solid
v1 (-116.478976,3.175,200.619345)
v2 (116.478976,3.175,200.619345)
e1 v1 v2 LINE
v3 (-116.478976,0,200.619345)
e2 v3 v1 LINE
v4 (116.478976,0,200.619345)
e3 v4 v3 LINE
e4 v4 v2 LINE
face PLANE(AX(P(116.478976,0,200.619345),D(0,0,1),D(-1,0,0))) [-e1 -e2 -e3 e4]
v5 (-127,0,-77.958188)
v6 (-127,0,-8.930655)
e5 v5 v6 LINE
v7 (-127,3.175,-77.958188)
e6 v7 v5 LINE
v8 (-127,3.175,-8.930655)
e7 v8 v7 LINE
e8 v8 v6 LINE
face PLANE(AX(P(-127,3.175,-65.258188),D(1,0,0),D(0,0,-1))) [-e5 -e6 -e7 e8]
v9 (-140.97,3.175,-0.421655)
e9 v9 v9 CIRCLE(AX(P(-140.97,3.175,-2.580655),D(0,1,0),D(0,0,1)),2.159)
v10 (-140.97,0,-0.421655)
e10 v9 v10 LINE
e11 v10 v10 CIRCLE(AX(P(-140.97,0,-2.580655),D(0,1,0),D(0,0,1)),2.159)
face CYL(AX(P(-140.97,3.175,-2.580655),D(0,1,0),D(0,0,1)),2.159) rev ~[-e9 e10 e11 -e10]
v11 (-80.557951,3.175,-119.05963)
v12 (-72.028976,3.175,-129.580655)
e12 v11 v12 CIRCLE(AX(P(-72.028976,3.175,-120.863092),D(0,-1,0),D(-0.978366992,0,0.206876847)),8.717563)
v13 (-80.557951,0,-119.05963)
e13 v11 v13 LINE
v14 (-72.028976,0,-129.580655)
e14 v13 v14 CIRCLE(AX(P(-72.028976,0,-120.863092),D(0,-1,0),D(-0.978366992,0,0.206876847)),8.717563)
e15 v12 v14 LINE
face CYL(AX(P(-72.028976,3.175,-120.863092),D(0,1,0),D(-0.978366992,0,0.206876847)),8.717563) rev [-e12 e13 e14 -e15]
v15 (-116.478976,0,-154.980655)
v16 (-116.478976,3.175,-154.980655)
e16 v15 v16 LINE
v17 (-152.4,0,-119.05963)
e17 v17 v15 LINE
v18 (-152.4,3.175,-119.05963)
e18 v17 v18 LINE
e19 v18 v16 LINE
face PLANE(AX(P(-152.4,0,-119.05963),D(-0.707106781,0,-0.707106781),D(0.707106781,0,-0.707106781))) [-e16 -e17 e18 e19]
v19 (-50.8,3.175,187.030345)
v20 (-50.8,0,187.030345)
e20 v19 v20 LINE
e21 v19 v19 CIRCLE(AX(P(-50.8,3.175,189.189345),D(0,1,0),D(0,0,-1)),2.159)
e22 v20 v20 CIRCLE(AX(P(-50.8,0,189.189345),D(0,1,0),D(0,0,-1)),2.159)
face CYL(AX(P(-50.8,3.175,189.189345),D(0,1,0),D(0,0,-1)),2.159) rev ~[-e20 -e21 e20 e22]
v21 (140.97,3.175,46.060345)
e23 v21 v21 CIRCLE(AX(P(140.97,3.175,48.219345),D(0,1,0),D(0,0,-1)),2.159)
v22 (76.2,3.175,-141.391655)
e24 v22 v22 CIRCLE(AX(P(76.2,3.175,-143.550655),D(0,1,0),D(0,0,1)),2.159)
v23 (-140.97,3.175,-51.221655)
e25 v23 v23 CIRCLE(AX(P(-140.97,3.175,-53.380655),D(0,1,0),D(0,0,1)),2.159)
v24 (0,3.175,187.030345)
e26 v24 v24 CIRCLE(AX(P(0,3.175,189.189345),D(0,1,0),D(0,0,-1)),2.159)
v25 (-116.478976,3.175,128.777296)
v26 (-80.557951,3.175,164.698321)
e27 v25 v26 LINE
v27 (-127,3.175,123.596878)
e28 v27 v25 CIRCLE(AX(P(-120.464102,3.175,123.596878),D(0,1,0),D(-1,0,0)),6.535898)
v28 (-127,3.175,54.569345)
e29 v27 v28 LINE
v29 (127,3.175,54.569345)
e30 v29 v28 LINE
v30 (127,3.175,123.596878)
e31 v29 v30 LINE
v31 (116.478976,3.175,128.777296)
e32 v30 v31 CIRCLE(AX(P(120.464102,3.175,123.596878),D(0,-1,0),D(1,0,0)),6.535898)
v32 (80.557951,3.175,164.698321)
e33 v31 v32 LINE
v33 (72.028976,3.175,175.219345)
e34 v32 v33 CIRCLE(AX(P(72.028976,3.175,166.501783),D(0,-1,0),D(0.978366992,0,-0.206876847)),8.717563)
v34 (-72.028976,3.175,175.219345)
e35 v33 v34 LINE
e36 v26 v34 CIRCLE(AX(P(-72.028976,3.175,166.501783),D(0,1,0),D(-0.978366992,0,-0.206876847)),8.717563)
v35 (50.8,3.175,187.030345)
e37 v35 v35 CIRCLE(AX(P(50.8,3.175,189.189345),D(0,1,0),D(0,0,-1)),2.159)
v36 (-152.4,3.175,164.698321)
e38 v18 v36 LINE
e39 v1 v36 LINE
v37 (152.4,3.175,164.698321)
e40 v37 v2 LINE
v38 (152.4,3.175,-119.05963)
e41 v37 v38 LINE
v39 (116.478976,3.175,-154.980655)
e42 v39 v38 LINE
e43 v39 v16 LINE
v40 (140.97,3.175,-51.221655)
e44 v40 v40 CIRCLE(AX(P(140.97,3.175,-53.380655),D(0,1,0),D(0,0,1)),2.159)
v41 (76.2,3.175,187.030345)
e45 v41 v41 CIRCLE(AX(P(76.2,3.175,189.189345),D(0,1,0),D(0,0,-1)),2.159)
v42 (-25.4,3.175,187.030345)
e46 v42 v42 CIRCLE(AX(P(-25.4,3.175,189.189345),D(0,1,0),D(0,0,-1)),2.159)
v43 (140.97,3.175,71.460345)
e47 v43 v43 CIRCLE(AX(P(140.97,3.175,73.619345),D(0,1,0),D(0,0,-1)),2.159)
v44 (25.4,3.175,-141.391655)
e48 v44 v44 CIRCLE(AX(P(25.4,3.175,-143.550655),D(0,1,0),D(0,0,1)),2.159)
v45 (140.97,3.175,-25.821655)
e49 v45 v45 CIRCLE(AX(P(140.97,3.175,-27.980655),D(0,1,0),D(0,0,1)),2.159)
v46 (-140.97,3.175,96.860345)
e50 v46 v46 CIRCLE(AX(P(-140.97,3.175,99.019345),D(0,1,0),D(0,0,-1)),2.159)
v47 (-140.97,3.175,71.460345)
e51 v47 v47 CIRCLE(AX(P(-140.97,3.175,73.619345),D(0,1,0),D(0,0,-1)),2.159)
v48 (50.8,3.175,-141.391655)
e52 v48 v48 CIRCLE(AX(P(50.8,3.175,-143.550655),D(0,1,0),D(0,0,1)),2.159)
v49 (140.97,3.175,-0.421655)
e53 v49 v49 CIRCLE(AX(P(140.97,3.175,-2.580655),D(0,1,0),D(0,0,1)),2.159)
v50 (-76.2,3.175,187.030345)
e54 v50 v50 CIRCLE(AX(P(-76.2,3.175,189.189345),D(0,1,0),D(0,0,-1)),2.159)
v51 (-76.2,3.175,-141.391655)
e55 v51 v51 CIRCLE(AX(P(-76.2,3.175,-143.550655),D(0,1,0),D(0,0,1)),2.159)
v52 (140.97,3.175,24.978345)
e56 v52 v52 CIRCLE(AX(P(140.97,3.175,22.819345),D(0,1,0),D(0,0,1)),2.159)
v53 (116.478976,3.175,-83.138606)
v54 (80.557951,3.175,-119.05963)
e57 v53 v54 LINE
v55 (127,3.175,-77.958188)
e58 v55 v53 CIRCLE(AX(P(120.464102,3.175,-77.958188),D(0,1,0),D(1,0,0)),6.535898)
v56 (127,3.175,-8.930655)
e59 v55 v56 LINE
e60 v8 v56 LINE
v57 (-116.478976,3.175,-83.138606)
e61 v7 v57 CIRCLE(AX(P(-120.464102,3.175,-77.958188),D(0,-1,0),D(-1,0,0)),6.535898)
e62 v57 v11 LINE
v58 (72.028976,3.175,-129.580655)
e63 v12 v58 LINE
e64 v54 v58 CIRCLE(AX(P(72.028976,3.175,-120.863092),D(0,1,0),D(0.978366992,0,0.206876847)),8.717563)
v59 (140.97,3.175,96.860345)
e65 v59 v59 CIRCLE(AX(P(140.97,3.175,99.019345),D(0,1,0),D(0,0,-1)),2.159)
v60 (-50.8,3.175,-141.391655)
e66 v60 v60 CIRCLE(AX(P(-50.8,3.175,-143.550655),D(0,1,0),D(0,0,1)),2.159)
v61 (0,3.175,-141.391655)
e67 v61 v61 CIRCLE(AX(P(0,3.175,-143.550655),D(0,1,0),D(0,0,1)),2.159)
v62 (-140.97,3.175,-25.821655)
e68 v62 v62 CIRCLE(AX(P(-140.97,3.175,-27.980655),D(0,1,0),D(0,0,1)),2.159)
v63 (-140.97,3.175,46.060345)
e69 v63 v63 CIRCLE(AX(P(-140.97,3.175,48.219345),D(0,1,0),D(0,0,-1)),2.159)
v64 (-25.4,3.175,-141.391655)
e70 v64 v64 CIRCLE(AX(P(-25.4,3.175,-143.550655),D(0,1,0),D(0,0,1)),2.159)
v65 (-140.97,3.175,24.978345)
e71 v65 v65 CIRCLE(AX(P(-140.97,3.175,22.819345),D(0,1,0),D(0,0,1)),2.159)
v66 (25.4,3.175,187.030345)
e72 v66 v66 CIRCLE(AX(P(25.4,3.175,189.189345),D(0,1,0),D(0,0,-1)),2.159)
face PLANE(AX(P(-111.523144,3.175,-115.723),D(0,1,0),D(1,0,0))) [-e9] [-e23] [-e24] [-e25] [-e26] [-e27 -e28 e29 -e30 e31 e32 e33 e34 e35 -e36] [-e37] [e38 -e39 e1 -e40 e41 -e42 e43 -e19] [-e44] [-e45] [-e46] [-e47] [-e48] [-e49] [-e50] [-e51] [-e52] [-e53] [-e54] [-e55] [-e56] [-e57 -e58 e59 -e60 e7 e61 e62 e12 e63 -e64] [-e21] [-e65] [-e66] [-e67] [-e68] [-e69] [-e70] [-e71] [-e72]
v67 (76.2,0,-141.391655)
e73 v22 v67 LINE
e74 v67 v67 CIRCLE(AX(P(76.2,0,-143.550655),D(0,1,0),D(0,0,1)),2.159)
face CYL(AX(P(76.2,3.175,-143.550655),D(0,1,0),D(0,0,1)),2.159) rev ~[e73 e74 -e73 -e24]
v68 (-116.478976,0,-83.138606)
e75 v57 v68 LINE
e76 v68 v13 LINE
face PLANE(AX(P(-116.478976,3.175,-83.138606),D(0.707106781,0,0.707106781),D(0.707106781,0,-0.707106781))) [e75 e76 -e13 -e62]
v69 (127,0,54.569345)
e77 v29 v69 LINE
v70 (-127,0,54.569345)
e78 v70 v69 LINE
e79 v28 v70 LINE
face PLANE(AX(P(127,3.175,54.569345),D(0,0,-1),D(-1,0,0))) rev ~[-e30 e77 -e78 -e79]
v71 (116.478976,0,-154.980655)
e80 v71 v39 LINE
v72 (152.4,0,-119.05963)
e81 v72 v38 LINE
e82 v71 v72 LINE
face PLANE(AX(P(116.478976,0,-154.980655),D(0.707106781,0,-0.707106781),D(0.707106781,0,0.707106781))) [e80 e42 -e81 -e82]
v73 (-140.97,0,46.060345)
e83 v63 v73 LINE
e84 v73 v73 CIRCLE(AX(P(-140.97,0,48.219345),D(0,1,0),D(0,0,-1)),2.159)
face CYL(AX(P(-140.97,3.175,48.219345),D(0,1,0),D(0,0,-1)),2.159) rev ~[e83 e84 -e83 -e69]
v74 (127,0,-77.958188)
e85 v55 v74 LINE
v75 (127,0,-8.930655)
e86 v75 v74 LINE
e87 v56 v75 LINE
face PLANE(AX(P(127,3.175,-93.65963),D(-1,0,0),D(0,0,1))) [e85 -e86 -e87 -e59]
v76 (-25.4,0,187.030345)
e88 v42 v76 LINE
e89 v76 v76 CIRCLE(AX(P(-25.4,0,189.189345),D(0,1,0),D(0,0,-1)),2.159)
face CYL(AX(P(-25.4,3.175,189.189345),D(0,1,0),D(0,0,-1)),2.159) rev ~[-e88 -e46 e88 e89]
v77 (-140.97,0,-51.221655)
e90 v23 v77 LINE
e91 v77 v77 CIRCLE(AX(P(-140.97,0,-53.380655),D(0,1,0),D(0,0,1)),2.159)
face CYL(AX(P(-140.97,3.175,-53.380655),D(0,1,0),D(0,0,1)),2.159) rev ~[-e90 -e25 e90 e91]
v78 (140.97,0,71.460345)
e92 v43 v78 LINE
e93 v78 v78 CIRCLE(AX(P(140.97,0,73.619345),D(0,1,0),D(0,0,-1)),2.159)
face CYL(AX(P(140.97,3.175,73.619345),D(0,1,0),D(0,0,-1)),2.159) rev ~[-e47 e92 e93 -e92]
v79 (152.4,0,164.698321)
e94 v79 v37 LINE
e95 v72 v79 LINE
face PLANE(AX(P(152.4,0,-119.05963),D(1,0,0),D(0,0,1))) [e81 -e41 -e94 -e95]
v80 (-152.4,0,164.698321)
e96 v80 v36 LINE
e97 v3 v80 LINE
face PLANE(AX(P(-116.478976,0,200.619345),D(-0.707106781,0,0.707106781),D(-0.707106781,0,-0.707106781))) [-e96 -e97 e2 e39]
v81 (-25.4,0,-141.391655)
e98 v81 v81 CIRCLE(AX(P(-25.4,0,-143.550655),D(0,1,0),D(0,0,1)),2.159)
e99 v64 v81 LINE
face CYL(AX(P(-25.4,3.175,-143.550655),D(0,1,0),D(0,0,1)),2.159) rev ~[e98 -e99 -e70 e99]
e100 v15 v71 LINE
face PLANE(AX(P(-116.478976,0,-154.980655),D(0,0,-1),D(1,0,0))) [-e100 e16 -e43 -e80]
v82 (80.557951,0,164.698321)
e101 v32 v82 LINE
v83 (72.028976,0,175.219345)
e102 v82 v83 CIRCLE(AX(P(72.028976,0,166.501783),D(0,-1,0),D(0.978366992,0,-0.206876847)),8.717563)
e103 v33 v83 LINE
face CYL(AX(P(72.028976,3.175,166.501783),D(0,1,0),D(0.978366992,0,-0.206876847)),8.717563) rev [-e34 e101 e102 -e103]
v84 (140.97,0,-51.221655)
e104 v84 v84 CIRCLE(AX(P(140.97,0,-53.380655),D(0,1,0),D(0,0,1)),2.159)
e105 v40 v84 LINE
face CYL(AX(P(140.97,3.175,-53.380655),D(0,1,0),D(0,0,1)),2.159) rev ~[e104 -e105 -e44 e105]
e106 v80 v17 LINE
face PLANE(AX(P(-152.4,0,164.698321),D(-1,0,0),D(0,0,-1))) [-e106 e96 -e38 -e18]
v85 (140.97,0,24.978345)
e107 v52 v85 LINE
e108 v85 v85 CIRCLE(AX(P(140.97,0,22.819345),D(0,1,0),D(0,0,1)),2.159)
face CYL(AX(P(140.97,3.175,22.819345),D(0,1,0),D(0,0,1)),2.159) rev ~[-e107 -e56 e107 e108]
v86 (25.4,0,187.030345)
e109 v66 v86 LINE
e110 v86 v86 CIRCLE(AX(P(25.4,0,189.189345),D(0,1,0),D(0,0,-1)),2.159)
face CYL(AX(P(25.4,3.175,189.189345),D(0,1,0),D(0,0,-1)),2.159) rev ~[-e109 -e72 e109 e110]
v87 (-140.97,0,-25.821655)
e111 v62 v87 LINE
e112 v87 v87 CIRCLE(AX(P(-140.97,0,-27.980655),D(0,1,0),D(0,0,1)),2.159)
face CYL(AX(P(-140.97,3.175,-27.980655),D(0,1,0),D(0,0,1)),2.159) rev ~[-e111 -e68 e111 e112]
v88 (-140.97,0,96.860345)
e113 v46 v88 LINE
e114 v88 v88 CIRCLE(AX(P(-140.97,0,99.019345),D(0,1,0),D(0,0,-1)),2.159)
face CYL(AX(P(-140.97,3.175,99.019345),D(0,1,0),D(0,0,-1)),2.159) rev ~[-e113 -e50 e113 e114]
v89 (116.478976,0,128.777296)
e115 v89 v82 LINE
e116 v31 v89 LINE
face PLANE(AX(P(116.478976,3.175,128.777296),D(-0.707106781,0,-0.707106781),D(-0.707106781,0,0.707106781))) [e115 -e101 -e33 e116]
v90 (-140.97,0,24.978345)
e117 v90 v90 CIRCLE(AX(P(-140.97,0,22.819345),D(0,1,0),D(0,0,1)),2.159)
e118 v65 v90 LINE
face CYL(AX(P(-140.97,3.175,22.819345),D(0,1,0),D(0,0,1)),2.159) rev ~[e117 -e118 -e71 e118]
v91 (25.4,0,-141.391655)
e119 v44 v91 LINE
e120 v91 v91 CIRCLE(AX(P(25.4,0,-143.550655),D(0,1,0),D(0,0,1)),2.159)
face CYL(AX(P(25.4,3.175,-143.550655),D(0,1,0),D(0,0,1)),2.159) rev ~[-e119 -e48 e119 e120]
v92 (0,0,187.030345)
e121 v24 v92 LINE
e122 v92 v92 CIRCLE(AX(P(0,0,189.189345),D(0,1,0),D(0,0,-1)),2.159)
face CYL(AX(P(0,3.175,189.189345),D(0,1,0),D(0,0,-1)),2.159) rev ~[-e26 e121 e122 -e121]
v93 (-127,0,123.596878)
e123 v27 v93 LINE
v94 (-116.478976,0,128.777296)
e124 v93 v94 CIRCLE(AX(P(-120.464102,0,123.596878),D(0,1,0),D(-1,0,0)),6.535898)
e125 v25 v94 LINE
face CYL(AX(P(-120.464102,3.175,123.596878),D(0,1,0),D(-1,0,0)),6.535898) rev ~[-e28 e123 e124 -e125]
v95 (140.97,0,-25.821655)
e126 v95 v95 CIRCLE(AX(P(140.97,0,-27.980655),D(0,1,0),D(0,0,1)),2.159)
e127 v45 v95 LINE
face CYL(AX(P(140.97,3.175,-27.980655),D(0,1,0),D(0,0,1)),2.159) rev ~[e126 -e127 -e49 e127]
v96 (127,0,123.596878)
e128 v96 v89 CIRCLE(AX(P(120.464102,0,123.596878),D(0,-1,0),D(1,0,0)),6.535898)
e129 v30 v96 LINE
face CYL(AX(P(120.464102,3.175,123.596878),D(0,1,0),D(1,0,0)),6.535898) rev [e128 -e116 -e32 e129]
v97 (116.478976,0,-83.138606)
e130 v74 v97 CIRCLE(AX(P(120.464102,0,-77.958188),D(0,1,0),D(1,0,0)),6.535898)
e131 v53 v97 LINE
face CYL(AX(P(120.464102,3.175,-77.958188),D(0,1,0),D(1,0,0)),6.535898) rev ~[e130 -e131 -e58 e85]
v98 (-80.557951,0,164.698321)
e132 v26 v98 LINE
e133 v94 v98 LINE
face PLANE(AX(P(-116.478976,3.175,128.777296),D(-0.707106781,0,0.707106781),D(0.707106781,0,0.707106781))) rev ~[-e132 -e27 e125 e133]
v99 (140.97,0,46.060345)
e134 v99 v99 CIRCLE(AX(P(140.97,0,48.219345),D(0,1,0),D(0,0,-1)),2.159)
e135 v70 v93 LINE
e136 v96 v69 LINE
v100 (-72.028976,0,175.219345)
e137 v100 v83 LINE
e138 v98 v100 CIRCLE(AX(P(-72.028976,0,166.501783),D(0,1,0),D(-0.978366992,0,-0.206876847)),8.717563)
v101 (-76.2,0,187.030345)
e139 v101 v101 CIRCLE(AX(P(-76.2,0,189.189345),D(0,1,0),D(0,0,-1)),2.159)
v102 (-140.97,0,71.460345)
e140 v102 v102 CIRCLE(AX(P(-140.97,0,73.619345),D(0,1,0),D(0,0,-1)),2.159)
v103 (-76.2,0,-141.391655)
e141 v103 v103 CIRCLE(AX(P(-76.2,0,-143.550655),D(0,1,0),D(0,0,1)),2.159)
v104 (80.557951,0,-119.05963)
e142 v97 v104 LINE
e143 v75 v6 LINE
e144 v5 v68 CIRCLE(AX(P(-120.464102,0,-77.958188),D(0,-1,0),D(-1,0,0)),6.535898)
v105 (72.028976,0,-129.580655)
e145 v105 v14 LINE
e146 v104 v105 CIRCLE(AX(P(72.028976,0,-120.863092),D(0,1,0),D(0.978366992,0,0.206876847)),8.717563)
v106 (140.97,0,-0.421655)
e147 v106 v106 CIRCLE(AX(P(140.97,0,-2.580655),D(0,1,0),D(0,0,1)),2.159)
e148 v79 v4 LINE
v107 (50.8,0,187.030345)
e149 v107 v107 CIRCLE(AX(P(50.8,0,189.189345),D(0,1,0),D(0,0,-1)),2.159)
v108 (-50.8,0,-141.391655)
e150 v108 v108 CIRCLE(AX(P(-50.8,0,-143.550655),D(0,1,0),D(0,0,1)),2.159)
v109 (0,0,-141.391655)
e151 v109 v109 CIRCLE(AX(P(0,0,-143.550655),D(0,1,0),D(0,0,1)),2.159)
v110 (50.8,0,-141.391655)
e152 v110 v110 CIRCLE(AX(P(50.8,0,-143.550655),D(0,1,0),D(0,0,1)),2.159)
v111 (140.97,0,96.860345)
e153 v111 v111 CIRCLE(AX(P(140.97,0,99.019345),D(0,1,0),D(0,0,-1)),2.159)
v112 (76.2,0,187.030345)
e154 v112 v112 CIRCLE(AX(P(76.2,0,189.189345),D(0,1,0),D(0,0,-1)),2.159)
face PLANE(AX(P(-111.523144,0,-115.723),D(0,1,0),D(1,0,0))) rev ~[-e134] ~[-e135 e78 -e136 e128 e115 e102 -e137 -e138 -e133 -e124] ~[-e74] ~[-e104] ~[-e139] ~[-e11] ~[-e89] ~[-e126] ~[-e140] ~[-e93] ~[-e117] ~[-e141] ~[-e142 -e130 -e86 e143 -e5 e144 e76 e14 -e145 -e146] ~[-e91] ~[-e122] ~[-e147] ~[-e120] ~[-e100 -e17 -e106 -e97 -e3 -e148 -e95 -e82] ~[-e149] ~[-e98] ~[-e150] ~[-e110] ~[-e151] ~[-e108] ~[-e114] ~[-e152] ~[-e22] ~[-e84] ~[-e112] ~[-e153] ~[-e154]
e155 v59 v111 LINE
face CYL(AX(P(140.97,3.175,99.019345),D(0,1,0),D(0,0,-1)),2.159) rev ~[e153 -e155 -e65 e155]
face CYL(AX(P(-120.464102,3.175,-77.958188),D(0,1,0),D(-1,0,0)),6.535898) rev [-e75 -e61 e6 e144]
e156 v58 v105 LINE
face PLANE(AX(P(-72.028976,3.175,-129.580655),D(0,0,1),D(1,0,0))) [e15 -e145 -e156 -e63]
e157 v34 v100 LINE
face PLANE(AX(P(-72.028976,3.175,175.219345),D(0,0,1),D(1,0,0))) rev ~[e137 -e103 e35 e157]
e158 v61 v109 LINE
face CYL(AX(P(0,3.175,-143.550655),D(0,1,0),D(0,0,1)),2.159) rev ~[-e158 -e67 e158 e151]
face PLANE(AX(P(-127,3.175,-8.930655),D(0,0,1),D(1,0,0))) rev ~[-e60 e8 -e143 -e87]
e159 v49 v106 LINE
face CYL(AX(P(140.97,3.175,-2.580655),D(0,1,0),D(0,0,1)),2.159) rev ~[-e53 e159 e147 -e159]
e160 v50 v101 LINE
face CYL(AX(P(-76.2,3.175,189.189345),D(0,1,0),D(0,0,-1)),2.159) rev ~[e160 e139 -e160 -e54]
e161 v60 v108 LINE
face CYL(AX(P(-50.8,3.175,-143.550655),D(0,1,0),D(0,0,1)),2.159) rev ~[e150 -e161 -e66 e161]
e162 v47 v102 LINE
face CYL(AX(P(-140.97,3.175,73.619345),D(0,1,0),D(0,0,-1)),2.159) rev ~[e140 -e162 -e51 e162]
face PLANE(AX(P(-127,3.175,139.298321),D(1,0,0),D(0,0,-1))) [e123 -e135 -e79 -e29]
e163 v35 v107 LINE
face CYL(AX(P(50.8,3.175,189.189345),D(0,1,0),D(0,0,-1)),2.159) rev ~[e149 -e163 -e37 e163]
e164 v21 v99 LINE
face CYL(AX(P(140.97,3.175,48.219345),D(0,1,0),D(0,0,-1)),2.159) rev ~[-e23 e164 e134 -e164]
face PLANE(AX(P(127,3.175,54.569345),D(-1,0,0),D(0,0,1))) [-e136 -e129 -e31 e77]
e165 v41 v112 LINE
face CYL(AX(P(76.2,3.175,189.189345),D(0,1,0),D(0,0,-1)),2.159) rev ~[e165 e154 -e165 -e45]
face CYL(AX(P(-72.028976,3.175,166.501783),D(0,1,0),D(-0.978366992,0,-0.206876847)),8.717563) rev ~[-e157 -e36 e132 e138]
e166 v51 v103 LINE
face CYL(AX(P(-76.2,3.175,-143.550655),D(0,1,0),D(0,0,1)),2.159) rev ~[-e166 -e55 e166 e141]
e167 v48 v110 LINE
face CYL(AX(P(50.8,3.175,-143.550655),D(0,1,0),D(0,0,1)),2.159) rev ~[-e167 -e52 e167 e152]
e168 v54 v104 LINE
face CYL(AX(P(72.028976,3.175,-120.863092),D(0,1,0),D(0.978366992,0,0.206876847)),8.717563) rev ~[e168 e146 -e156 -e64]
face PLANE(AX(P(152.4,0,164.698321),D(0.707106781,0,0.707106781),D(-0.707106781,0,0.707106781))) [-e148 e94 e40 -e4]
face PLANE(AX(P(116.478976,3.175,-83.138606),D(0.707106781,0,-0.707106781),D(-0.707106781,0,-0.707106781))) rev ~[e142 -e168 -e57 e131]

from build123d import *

# Parameters (mm, degrees)
BOSS_EXTRUDE1_DEPTH = 3.175
CUT_EXTRUDE1_DEPTH  = 252.960239461
BOSS_EXTRUDE2_DEPTH = 3.175
SKETCH4_R           = 2.159
CUT_EXTRUDE2_DEPTH  = 252.960239461


with BuildPart() as part:
    # Sketch1 → Boss-Extrude1 (new body)
    with BuildSketch(Plane(origin=(0, 0, 0), x_dir=(1, 0, 0), z_dir=(0, 1, 0))):
        Polygon((-152.4, 119.059630377), (-116.478975516, 154.980654861), (116.478975516, 154.980654861), (152.4, 119.059630377), (152.4, -164.698320655), (116.478975516, -200.619345139), (-116.478975516, -200.619345139), (-152.4, -164.698320655), align=None)
    extrude(amount=BOSS_EXTRUDE1_DEPTH)

    # Sketch2 → Cut-Extrude1 (cut, through all)
    with BuildSketch(Plane(origin=(0, 3.175, 0), x_dir=(1, 0, 0), z_dir=(0, 1, 0))):
        Polygon((-91.078975516, 129.580654861), (91.078975516, 129.580654861), (127, 93.659630377), (127, 8.930654861), (82.442975516, 8.930654861), (-74.314975516, 8.930654861), (-127, 8.930654861), (-127, 93.659630377), align=None)
        Polygon((127, -139.298320655), (91.078975516, -175.219345139), (-91.078975516, -175.219345139), (-127, -139.298320655), (-127, -54.569345139), (-74.314975516, -54.569345139), (82.442975516, -54.569345139), (127, -54.569345139), align=None)
    extrude(amount=-CUT_EXTRUDE1_DEPTH, mode=Mode.SUBTRACT)

    # Sketch5 → Boss-Extrude2 (add)
    with BuildSketch(Plane(origin=(0, 3.175, 0), x_dir=(1, 0, 0), z_dir=(0, 1, 0))):
        with BuildLine():
            Line((-116.478975516, 83.138605892), (-80.557951031, 119.059630377))
            ThreePointArc((-80.557951031, 119.059630377), (-78.800891411, 126.352814743), (-72.028975516, 129.580654861))
            Line((-72.028975516, 129.580654861), (-59.328975516, 129.580654861))
            Line((-59.328975516, 129.580654861), (-59.328975516, 154.980654861))
            Line((-59.328975516, 154.980654861), (-116.478975516, 154.980654861))
            Line((-116.478975516, 154.980654861), (-152.4, 119.059630377))
            Line((-152.4, 119.059630377), (-152.4, 65.258187686))
            Line((-152.4, 65.258187686), (-127, 65.258187686))
            Line((-127, 65.258187686), (-127, 77.958187686))
            ThreePointArc((-127, 77.958187686), (-123.351279088, 83.821819005), (-116.478975516, 83.138605892))
        make_face()
        with BuildLine():
            Line((127, 65.258187686), (127, 77.958187686))
            ThreePointArc((127, 77.958187686), (123.351279088, 83.821819005), (116.478975516, 83.138605892))
            Line((116.478975516, 83.138605892), (80.557951031, 119.059630377))
            ThreePointArc((80.557951031, 119.059630377), (78.800891411, 126.352814743), (72.028975516, 129.580654861))
            Line((72.028975516, 129.580654861), (59.328975516, 129.580654861))
            Line((59.328975516, 129.580654861), (59.328975516, 154.980654861))
            Line((59.328975516, 154.980654861), (116.478975516, 154.980654861))
            Line((116.478975516, 154.980654861), (152.4, 119.059630377))
            Line((152.4, 119.059630377), (152.4, 65.258187686))
            Line((152.4, 65.258187686), (127, 65.258187686))
        make_face()
        with BuildLine():
            Line((116.478975516, -128.777296171), (80.557951031, -164.698320655))
            ThreePointArc((80.557951031, -164.698320655), (78.800891411, -171.991505021), (72.028975516, -175.219345139))
            Line((72.028975516, -175.219345139), (59.328975516, -175.219345139))
            Line((59.328975516, -175.219345139), (59.328975516, -200.619345139))
            Line((59.328975516, -200.619345139), (116.478975516, -200.619345139))
            Line((116.478975516, -200.619345139), (152.4, -164.698320655))
            Line((152.4, -164.698320655), (152.4, -110.896877964))
            Line((152.4, -110.896877964), (127, -110.896877964))
            Line((127, -110.896877964), (127, -123.596877964))
            ThreePointArc((127, -123.596877964), (123.351279088, -129.460509283), (116.478975516, -128.777296171))
        make_face()
        with BuildLine():
            Line((-127, -110.896877964), (-127, -123.596877964))
            ThreePointArc((-127, -123.596877964), (-123.351279088, -129.460509283), (-116.478975516, -128.777296171))
            Line((-116.478975516, -128.777296171), (-80.557951031, -164.698320655))
            ThreePointArc((-80.557951031, -164.698320655), (-78.800891411, -171.991505021), (-72.028975516, -175.219345139))
            Line((-72.028975516, -175.219345139), (-59.328975516, -175.219345139))
            Line((-59.328975516, -175.219345139), (-59.328975516, -200.619345139))
            Line((-59.328975516, -200.619345139), (-116.478975516, -200.619345139))
            Line((-116.478975516, -200.619345139), (-152.4, -164.698320655))
            Line((-152.4, -164.698320655), (-152.4, -110.896877964))
            Line((-152.4, -110.896877964), (-127, -110.896877964))
        make_face()
    extrude(amount=-BOSS_EXTRUDE2_DEPTH)

    # Sketch4 → Cut-Extrude2 (cut, through all)
    with BuildSketch(Plane(origin=(0, 3.175, 0), x_dir=(1, 0, 0), z_dir=(0, 1, 0))):
        with Locations(Location((0, 143.550654861, 0), (0, 0, 270))):
            Circle(SKETCH4_R)
        with Locations(Location((-50.8, 143.550654861, 0), (0, 0, 270))):
            Circle(SKETCH4_R)
        with Locations(Location((50.8, 143.550654861, 0), (0, 0, 270))):
            Circle(SKETCH4_R)
        with Locations(Location((-25.4, 143.550654861, 0), (0, 0, 270))):
            Circle(SKETCH4_R)
        with Locations(Location((25.4, 143.550654861, 0), (0, 0, 270))):
            Circle(SKETCH4_R)
        with Locations(Location((-140.97, -22.819345139, 0), (0, 0, 270))):
            Circle(SKETCH4_R)
        with Locations(Location((-140.97, 2.580654861, 0), (0, 0, 270))):
            Circle(SKETCH4_R)
        with Locations(Location((-140.97, 27.980654861, 0), (0, 0, 270))):
            Circle(SKETCH4_R)
        with Locations(Location((140.97, -22.819345139, 0), (0, 0, 270))):
            Circle(SKETCH4_R)
        with Locations(Location((140.97, 2.580654861, 0), (0, 0, 270))):
            Circle(SKETCH4_R)
        with Locations(Location((140.97, 27.980654861, 0), (0, 0, 270))):
            Circle(SKETCH4_R)
        with Locations(Location((140.97, -73.619345139, 0), (0, 0, 90))):
            Circle(SKETCH4_R)
        with Locations(Location((140.97, -48.219345139, 0), (0, 0, 90))):
            Circle(SKETCH4_R)
        with Locations(Location((-140.97, -73.619345139, 0), (0, 0, 90))):
            Circle(SKETCH4_R)
        with Locations(Location((-140.97, -48.219345139, 0), (0, 0, 90))):
            Circle(SKETCH4_R)
        with Locations(Location((25.4, -189.189345139, 0), (0, 0, 90))):
            Circle(SKETCH4_R)
        with Locations(Location((-25.4, -189.189345139, 0), (0, 0, 90))):
            Circle(SKETCH4_R)
        with Locations(Location((50.8, -189.189345139, 0), (0, 0, 90))):
            Circle(SKETCH4_R)
        with Locations(Location((-50.8, -189.189345139, 0), (0, 0, 90))):
            Circle(SKETCH4_R)
        with Locations(Location((0, -189.189345139, 0), (0, 0, 90))):
            Circle(SKETCH4_R)
        with Locations(Location((-76.2, 143.550654861, 0), (0, 0, 270))):
            Circle(SKETCH4_R)
        with Locations(Location((76.2, 143.550654861, 0), (0, 0, 270))):
            Circle(SKETCH4_R)
        with Locations(Location((-140.97, 53.380654861, 0), (0, 0, 270))):
            Circle(SKETCH4_R)
        with Locations(Location((140.97, 53.380654861, 0), (0, 0, 270))):
            Circle(SKETCH4_R)
        with Locations(Location((140.97, -99.019345139, 0), (0, 0, 90))):
            Circle(SKETCH4_R)
        with Locations(Location((76.2, -189.189345139, 0), (0, 0, 90))):
            Circle(SKETCH4_R)
        with Locations(Location((-76.2, -189.189345139, 0), (0, 0, 90))):
            Circle(SKETCH4_R)
        with Locations(Location((-140.97, -99.019345139, 0), (0, 0, 90))):
            Circle(SKETCH4_R)
    extrude(amount=-CUT_EXTRUDE2_DEPTH, mode=Mode.SUBTRACT)


solid = part.part
